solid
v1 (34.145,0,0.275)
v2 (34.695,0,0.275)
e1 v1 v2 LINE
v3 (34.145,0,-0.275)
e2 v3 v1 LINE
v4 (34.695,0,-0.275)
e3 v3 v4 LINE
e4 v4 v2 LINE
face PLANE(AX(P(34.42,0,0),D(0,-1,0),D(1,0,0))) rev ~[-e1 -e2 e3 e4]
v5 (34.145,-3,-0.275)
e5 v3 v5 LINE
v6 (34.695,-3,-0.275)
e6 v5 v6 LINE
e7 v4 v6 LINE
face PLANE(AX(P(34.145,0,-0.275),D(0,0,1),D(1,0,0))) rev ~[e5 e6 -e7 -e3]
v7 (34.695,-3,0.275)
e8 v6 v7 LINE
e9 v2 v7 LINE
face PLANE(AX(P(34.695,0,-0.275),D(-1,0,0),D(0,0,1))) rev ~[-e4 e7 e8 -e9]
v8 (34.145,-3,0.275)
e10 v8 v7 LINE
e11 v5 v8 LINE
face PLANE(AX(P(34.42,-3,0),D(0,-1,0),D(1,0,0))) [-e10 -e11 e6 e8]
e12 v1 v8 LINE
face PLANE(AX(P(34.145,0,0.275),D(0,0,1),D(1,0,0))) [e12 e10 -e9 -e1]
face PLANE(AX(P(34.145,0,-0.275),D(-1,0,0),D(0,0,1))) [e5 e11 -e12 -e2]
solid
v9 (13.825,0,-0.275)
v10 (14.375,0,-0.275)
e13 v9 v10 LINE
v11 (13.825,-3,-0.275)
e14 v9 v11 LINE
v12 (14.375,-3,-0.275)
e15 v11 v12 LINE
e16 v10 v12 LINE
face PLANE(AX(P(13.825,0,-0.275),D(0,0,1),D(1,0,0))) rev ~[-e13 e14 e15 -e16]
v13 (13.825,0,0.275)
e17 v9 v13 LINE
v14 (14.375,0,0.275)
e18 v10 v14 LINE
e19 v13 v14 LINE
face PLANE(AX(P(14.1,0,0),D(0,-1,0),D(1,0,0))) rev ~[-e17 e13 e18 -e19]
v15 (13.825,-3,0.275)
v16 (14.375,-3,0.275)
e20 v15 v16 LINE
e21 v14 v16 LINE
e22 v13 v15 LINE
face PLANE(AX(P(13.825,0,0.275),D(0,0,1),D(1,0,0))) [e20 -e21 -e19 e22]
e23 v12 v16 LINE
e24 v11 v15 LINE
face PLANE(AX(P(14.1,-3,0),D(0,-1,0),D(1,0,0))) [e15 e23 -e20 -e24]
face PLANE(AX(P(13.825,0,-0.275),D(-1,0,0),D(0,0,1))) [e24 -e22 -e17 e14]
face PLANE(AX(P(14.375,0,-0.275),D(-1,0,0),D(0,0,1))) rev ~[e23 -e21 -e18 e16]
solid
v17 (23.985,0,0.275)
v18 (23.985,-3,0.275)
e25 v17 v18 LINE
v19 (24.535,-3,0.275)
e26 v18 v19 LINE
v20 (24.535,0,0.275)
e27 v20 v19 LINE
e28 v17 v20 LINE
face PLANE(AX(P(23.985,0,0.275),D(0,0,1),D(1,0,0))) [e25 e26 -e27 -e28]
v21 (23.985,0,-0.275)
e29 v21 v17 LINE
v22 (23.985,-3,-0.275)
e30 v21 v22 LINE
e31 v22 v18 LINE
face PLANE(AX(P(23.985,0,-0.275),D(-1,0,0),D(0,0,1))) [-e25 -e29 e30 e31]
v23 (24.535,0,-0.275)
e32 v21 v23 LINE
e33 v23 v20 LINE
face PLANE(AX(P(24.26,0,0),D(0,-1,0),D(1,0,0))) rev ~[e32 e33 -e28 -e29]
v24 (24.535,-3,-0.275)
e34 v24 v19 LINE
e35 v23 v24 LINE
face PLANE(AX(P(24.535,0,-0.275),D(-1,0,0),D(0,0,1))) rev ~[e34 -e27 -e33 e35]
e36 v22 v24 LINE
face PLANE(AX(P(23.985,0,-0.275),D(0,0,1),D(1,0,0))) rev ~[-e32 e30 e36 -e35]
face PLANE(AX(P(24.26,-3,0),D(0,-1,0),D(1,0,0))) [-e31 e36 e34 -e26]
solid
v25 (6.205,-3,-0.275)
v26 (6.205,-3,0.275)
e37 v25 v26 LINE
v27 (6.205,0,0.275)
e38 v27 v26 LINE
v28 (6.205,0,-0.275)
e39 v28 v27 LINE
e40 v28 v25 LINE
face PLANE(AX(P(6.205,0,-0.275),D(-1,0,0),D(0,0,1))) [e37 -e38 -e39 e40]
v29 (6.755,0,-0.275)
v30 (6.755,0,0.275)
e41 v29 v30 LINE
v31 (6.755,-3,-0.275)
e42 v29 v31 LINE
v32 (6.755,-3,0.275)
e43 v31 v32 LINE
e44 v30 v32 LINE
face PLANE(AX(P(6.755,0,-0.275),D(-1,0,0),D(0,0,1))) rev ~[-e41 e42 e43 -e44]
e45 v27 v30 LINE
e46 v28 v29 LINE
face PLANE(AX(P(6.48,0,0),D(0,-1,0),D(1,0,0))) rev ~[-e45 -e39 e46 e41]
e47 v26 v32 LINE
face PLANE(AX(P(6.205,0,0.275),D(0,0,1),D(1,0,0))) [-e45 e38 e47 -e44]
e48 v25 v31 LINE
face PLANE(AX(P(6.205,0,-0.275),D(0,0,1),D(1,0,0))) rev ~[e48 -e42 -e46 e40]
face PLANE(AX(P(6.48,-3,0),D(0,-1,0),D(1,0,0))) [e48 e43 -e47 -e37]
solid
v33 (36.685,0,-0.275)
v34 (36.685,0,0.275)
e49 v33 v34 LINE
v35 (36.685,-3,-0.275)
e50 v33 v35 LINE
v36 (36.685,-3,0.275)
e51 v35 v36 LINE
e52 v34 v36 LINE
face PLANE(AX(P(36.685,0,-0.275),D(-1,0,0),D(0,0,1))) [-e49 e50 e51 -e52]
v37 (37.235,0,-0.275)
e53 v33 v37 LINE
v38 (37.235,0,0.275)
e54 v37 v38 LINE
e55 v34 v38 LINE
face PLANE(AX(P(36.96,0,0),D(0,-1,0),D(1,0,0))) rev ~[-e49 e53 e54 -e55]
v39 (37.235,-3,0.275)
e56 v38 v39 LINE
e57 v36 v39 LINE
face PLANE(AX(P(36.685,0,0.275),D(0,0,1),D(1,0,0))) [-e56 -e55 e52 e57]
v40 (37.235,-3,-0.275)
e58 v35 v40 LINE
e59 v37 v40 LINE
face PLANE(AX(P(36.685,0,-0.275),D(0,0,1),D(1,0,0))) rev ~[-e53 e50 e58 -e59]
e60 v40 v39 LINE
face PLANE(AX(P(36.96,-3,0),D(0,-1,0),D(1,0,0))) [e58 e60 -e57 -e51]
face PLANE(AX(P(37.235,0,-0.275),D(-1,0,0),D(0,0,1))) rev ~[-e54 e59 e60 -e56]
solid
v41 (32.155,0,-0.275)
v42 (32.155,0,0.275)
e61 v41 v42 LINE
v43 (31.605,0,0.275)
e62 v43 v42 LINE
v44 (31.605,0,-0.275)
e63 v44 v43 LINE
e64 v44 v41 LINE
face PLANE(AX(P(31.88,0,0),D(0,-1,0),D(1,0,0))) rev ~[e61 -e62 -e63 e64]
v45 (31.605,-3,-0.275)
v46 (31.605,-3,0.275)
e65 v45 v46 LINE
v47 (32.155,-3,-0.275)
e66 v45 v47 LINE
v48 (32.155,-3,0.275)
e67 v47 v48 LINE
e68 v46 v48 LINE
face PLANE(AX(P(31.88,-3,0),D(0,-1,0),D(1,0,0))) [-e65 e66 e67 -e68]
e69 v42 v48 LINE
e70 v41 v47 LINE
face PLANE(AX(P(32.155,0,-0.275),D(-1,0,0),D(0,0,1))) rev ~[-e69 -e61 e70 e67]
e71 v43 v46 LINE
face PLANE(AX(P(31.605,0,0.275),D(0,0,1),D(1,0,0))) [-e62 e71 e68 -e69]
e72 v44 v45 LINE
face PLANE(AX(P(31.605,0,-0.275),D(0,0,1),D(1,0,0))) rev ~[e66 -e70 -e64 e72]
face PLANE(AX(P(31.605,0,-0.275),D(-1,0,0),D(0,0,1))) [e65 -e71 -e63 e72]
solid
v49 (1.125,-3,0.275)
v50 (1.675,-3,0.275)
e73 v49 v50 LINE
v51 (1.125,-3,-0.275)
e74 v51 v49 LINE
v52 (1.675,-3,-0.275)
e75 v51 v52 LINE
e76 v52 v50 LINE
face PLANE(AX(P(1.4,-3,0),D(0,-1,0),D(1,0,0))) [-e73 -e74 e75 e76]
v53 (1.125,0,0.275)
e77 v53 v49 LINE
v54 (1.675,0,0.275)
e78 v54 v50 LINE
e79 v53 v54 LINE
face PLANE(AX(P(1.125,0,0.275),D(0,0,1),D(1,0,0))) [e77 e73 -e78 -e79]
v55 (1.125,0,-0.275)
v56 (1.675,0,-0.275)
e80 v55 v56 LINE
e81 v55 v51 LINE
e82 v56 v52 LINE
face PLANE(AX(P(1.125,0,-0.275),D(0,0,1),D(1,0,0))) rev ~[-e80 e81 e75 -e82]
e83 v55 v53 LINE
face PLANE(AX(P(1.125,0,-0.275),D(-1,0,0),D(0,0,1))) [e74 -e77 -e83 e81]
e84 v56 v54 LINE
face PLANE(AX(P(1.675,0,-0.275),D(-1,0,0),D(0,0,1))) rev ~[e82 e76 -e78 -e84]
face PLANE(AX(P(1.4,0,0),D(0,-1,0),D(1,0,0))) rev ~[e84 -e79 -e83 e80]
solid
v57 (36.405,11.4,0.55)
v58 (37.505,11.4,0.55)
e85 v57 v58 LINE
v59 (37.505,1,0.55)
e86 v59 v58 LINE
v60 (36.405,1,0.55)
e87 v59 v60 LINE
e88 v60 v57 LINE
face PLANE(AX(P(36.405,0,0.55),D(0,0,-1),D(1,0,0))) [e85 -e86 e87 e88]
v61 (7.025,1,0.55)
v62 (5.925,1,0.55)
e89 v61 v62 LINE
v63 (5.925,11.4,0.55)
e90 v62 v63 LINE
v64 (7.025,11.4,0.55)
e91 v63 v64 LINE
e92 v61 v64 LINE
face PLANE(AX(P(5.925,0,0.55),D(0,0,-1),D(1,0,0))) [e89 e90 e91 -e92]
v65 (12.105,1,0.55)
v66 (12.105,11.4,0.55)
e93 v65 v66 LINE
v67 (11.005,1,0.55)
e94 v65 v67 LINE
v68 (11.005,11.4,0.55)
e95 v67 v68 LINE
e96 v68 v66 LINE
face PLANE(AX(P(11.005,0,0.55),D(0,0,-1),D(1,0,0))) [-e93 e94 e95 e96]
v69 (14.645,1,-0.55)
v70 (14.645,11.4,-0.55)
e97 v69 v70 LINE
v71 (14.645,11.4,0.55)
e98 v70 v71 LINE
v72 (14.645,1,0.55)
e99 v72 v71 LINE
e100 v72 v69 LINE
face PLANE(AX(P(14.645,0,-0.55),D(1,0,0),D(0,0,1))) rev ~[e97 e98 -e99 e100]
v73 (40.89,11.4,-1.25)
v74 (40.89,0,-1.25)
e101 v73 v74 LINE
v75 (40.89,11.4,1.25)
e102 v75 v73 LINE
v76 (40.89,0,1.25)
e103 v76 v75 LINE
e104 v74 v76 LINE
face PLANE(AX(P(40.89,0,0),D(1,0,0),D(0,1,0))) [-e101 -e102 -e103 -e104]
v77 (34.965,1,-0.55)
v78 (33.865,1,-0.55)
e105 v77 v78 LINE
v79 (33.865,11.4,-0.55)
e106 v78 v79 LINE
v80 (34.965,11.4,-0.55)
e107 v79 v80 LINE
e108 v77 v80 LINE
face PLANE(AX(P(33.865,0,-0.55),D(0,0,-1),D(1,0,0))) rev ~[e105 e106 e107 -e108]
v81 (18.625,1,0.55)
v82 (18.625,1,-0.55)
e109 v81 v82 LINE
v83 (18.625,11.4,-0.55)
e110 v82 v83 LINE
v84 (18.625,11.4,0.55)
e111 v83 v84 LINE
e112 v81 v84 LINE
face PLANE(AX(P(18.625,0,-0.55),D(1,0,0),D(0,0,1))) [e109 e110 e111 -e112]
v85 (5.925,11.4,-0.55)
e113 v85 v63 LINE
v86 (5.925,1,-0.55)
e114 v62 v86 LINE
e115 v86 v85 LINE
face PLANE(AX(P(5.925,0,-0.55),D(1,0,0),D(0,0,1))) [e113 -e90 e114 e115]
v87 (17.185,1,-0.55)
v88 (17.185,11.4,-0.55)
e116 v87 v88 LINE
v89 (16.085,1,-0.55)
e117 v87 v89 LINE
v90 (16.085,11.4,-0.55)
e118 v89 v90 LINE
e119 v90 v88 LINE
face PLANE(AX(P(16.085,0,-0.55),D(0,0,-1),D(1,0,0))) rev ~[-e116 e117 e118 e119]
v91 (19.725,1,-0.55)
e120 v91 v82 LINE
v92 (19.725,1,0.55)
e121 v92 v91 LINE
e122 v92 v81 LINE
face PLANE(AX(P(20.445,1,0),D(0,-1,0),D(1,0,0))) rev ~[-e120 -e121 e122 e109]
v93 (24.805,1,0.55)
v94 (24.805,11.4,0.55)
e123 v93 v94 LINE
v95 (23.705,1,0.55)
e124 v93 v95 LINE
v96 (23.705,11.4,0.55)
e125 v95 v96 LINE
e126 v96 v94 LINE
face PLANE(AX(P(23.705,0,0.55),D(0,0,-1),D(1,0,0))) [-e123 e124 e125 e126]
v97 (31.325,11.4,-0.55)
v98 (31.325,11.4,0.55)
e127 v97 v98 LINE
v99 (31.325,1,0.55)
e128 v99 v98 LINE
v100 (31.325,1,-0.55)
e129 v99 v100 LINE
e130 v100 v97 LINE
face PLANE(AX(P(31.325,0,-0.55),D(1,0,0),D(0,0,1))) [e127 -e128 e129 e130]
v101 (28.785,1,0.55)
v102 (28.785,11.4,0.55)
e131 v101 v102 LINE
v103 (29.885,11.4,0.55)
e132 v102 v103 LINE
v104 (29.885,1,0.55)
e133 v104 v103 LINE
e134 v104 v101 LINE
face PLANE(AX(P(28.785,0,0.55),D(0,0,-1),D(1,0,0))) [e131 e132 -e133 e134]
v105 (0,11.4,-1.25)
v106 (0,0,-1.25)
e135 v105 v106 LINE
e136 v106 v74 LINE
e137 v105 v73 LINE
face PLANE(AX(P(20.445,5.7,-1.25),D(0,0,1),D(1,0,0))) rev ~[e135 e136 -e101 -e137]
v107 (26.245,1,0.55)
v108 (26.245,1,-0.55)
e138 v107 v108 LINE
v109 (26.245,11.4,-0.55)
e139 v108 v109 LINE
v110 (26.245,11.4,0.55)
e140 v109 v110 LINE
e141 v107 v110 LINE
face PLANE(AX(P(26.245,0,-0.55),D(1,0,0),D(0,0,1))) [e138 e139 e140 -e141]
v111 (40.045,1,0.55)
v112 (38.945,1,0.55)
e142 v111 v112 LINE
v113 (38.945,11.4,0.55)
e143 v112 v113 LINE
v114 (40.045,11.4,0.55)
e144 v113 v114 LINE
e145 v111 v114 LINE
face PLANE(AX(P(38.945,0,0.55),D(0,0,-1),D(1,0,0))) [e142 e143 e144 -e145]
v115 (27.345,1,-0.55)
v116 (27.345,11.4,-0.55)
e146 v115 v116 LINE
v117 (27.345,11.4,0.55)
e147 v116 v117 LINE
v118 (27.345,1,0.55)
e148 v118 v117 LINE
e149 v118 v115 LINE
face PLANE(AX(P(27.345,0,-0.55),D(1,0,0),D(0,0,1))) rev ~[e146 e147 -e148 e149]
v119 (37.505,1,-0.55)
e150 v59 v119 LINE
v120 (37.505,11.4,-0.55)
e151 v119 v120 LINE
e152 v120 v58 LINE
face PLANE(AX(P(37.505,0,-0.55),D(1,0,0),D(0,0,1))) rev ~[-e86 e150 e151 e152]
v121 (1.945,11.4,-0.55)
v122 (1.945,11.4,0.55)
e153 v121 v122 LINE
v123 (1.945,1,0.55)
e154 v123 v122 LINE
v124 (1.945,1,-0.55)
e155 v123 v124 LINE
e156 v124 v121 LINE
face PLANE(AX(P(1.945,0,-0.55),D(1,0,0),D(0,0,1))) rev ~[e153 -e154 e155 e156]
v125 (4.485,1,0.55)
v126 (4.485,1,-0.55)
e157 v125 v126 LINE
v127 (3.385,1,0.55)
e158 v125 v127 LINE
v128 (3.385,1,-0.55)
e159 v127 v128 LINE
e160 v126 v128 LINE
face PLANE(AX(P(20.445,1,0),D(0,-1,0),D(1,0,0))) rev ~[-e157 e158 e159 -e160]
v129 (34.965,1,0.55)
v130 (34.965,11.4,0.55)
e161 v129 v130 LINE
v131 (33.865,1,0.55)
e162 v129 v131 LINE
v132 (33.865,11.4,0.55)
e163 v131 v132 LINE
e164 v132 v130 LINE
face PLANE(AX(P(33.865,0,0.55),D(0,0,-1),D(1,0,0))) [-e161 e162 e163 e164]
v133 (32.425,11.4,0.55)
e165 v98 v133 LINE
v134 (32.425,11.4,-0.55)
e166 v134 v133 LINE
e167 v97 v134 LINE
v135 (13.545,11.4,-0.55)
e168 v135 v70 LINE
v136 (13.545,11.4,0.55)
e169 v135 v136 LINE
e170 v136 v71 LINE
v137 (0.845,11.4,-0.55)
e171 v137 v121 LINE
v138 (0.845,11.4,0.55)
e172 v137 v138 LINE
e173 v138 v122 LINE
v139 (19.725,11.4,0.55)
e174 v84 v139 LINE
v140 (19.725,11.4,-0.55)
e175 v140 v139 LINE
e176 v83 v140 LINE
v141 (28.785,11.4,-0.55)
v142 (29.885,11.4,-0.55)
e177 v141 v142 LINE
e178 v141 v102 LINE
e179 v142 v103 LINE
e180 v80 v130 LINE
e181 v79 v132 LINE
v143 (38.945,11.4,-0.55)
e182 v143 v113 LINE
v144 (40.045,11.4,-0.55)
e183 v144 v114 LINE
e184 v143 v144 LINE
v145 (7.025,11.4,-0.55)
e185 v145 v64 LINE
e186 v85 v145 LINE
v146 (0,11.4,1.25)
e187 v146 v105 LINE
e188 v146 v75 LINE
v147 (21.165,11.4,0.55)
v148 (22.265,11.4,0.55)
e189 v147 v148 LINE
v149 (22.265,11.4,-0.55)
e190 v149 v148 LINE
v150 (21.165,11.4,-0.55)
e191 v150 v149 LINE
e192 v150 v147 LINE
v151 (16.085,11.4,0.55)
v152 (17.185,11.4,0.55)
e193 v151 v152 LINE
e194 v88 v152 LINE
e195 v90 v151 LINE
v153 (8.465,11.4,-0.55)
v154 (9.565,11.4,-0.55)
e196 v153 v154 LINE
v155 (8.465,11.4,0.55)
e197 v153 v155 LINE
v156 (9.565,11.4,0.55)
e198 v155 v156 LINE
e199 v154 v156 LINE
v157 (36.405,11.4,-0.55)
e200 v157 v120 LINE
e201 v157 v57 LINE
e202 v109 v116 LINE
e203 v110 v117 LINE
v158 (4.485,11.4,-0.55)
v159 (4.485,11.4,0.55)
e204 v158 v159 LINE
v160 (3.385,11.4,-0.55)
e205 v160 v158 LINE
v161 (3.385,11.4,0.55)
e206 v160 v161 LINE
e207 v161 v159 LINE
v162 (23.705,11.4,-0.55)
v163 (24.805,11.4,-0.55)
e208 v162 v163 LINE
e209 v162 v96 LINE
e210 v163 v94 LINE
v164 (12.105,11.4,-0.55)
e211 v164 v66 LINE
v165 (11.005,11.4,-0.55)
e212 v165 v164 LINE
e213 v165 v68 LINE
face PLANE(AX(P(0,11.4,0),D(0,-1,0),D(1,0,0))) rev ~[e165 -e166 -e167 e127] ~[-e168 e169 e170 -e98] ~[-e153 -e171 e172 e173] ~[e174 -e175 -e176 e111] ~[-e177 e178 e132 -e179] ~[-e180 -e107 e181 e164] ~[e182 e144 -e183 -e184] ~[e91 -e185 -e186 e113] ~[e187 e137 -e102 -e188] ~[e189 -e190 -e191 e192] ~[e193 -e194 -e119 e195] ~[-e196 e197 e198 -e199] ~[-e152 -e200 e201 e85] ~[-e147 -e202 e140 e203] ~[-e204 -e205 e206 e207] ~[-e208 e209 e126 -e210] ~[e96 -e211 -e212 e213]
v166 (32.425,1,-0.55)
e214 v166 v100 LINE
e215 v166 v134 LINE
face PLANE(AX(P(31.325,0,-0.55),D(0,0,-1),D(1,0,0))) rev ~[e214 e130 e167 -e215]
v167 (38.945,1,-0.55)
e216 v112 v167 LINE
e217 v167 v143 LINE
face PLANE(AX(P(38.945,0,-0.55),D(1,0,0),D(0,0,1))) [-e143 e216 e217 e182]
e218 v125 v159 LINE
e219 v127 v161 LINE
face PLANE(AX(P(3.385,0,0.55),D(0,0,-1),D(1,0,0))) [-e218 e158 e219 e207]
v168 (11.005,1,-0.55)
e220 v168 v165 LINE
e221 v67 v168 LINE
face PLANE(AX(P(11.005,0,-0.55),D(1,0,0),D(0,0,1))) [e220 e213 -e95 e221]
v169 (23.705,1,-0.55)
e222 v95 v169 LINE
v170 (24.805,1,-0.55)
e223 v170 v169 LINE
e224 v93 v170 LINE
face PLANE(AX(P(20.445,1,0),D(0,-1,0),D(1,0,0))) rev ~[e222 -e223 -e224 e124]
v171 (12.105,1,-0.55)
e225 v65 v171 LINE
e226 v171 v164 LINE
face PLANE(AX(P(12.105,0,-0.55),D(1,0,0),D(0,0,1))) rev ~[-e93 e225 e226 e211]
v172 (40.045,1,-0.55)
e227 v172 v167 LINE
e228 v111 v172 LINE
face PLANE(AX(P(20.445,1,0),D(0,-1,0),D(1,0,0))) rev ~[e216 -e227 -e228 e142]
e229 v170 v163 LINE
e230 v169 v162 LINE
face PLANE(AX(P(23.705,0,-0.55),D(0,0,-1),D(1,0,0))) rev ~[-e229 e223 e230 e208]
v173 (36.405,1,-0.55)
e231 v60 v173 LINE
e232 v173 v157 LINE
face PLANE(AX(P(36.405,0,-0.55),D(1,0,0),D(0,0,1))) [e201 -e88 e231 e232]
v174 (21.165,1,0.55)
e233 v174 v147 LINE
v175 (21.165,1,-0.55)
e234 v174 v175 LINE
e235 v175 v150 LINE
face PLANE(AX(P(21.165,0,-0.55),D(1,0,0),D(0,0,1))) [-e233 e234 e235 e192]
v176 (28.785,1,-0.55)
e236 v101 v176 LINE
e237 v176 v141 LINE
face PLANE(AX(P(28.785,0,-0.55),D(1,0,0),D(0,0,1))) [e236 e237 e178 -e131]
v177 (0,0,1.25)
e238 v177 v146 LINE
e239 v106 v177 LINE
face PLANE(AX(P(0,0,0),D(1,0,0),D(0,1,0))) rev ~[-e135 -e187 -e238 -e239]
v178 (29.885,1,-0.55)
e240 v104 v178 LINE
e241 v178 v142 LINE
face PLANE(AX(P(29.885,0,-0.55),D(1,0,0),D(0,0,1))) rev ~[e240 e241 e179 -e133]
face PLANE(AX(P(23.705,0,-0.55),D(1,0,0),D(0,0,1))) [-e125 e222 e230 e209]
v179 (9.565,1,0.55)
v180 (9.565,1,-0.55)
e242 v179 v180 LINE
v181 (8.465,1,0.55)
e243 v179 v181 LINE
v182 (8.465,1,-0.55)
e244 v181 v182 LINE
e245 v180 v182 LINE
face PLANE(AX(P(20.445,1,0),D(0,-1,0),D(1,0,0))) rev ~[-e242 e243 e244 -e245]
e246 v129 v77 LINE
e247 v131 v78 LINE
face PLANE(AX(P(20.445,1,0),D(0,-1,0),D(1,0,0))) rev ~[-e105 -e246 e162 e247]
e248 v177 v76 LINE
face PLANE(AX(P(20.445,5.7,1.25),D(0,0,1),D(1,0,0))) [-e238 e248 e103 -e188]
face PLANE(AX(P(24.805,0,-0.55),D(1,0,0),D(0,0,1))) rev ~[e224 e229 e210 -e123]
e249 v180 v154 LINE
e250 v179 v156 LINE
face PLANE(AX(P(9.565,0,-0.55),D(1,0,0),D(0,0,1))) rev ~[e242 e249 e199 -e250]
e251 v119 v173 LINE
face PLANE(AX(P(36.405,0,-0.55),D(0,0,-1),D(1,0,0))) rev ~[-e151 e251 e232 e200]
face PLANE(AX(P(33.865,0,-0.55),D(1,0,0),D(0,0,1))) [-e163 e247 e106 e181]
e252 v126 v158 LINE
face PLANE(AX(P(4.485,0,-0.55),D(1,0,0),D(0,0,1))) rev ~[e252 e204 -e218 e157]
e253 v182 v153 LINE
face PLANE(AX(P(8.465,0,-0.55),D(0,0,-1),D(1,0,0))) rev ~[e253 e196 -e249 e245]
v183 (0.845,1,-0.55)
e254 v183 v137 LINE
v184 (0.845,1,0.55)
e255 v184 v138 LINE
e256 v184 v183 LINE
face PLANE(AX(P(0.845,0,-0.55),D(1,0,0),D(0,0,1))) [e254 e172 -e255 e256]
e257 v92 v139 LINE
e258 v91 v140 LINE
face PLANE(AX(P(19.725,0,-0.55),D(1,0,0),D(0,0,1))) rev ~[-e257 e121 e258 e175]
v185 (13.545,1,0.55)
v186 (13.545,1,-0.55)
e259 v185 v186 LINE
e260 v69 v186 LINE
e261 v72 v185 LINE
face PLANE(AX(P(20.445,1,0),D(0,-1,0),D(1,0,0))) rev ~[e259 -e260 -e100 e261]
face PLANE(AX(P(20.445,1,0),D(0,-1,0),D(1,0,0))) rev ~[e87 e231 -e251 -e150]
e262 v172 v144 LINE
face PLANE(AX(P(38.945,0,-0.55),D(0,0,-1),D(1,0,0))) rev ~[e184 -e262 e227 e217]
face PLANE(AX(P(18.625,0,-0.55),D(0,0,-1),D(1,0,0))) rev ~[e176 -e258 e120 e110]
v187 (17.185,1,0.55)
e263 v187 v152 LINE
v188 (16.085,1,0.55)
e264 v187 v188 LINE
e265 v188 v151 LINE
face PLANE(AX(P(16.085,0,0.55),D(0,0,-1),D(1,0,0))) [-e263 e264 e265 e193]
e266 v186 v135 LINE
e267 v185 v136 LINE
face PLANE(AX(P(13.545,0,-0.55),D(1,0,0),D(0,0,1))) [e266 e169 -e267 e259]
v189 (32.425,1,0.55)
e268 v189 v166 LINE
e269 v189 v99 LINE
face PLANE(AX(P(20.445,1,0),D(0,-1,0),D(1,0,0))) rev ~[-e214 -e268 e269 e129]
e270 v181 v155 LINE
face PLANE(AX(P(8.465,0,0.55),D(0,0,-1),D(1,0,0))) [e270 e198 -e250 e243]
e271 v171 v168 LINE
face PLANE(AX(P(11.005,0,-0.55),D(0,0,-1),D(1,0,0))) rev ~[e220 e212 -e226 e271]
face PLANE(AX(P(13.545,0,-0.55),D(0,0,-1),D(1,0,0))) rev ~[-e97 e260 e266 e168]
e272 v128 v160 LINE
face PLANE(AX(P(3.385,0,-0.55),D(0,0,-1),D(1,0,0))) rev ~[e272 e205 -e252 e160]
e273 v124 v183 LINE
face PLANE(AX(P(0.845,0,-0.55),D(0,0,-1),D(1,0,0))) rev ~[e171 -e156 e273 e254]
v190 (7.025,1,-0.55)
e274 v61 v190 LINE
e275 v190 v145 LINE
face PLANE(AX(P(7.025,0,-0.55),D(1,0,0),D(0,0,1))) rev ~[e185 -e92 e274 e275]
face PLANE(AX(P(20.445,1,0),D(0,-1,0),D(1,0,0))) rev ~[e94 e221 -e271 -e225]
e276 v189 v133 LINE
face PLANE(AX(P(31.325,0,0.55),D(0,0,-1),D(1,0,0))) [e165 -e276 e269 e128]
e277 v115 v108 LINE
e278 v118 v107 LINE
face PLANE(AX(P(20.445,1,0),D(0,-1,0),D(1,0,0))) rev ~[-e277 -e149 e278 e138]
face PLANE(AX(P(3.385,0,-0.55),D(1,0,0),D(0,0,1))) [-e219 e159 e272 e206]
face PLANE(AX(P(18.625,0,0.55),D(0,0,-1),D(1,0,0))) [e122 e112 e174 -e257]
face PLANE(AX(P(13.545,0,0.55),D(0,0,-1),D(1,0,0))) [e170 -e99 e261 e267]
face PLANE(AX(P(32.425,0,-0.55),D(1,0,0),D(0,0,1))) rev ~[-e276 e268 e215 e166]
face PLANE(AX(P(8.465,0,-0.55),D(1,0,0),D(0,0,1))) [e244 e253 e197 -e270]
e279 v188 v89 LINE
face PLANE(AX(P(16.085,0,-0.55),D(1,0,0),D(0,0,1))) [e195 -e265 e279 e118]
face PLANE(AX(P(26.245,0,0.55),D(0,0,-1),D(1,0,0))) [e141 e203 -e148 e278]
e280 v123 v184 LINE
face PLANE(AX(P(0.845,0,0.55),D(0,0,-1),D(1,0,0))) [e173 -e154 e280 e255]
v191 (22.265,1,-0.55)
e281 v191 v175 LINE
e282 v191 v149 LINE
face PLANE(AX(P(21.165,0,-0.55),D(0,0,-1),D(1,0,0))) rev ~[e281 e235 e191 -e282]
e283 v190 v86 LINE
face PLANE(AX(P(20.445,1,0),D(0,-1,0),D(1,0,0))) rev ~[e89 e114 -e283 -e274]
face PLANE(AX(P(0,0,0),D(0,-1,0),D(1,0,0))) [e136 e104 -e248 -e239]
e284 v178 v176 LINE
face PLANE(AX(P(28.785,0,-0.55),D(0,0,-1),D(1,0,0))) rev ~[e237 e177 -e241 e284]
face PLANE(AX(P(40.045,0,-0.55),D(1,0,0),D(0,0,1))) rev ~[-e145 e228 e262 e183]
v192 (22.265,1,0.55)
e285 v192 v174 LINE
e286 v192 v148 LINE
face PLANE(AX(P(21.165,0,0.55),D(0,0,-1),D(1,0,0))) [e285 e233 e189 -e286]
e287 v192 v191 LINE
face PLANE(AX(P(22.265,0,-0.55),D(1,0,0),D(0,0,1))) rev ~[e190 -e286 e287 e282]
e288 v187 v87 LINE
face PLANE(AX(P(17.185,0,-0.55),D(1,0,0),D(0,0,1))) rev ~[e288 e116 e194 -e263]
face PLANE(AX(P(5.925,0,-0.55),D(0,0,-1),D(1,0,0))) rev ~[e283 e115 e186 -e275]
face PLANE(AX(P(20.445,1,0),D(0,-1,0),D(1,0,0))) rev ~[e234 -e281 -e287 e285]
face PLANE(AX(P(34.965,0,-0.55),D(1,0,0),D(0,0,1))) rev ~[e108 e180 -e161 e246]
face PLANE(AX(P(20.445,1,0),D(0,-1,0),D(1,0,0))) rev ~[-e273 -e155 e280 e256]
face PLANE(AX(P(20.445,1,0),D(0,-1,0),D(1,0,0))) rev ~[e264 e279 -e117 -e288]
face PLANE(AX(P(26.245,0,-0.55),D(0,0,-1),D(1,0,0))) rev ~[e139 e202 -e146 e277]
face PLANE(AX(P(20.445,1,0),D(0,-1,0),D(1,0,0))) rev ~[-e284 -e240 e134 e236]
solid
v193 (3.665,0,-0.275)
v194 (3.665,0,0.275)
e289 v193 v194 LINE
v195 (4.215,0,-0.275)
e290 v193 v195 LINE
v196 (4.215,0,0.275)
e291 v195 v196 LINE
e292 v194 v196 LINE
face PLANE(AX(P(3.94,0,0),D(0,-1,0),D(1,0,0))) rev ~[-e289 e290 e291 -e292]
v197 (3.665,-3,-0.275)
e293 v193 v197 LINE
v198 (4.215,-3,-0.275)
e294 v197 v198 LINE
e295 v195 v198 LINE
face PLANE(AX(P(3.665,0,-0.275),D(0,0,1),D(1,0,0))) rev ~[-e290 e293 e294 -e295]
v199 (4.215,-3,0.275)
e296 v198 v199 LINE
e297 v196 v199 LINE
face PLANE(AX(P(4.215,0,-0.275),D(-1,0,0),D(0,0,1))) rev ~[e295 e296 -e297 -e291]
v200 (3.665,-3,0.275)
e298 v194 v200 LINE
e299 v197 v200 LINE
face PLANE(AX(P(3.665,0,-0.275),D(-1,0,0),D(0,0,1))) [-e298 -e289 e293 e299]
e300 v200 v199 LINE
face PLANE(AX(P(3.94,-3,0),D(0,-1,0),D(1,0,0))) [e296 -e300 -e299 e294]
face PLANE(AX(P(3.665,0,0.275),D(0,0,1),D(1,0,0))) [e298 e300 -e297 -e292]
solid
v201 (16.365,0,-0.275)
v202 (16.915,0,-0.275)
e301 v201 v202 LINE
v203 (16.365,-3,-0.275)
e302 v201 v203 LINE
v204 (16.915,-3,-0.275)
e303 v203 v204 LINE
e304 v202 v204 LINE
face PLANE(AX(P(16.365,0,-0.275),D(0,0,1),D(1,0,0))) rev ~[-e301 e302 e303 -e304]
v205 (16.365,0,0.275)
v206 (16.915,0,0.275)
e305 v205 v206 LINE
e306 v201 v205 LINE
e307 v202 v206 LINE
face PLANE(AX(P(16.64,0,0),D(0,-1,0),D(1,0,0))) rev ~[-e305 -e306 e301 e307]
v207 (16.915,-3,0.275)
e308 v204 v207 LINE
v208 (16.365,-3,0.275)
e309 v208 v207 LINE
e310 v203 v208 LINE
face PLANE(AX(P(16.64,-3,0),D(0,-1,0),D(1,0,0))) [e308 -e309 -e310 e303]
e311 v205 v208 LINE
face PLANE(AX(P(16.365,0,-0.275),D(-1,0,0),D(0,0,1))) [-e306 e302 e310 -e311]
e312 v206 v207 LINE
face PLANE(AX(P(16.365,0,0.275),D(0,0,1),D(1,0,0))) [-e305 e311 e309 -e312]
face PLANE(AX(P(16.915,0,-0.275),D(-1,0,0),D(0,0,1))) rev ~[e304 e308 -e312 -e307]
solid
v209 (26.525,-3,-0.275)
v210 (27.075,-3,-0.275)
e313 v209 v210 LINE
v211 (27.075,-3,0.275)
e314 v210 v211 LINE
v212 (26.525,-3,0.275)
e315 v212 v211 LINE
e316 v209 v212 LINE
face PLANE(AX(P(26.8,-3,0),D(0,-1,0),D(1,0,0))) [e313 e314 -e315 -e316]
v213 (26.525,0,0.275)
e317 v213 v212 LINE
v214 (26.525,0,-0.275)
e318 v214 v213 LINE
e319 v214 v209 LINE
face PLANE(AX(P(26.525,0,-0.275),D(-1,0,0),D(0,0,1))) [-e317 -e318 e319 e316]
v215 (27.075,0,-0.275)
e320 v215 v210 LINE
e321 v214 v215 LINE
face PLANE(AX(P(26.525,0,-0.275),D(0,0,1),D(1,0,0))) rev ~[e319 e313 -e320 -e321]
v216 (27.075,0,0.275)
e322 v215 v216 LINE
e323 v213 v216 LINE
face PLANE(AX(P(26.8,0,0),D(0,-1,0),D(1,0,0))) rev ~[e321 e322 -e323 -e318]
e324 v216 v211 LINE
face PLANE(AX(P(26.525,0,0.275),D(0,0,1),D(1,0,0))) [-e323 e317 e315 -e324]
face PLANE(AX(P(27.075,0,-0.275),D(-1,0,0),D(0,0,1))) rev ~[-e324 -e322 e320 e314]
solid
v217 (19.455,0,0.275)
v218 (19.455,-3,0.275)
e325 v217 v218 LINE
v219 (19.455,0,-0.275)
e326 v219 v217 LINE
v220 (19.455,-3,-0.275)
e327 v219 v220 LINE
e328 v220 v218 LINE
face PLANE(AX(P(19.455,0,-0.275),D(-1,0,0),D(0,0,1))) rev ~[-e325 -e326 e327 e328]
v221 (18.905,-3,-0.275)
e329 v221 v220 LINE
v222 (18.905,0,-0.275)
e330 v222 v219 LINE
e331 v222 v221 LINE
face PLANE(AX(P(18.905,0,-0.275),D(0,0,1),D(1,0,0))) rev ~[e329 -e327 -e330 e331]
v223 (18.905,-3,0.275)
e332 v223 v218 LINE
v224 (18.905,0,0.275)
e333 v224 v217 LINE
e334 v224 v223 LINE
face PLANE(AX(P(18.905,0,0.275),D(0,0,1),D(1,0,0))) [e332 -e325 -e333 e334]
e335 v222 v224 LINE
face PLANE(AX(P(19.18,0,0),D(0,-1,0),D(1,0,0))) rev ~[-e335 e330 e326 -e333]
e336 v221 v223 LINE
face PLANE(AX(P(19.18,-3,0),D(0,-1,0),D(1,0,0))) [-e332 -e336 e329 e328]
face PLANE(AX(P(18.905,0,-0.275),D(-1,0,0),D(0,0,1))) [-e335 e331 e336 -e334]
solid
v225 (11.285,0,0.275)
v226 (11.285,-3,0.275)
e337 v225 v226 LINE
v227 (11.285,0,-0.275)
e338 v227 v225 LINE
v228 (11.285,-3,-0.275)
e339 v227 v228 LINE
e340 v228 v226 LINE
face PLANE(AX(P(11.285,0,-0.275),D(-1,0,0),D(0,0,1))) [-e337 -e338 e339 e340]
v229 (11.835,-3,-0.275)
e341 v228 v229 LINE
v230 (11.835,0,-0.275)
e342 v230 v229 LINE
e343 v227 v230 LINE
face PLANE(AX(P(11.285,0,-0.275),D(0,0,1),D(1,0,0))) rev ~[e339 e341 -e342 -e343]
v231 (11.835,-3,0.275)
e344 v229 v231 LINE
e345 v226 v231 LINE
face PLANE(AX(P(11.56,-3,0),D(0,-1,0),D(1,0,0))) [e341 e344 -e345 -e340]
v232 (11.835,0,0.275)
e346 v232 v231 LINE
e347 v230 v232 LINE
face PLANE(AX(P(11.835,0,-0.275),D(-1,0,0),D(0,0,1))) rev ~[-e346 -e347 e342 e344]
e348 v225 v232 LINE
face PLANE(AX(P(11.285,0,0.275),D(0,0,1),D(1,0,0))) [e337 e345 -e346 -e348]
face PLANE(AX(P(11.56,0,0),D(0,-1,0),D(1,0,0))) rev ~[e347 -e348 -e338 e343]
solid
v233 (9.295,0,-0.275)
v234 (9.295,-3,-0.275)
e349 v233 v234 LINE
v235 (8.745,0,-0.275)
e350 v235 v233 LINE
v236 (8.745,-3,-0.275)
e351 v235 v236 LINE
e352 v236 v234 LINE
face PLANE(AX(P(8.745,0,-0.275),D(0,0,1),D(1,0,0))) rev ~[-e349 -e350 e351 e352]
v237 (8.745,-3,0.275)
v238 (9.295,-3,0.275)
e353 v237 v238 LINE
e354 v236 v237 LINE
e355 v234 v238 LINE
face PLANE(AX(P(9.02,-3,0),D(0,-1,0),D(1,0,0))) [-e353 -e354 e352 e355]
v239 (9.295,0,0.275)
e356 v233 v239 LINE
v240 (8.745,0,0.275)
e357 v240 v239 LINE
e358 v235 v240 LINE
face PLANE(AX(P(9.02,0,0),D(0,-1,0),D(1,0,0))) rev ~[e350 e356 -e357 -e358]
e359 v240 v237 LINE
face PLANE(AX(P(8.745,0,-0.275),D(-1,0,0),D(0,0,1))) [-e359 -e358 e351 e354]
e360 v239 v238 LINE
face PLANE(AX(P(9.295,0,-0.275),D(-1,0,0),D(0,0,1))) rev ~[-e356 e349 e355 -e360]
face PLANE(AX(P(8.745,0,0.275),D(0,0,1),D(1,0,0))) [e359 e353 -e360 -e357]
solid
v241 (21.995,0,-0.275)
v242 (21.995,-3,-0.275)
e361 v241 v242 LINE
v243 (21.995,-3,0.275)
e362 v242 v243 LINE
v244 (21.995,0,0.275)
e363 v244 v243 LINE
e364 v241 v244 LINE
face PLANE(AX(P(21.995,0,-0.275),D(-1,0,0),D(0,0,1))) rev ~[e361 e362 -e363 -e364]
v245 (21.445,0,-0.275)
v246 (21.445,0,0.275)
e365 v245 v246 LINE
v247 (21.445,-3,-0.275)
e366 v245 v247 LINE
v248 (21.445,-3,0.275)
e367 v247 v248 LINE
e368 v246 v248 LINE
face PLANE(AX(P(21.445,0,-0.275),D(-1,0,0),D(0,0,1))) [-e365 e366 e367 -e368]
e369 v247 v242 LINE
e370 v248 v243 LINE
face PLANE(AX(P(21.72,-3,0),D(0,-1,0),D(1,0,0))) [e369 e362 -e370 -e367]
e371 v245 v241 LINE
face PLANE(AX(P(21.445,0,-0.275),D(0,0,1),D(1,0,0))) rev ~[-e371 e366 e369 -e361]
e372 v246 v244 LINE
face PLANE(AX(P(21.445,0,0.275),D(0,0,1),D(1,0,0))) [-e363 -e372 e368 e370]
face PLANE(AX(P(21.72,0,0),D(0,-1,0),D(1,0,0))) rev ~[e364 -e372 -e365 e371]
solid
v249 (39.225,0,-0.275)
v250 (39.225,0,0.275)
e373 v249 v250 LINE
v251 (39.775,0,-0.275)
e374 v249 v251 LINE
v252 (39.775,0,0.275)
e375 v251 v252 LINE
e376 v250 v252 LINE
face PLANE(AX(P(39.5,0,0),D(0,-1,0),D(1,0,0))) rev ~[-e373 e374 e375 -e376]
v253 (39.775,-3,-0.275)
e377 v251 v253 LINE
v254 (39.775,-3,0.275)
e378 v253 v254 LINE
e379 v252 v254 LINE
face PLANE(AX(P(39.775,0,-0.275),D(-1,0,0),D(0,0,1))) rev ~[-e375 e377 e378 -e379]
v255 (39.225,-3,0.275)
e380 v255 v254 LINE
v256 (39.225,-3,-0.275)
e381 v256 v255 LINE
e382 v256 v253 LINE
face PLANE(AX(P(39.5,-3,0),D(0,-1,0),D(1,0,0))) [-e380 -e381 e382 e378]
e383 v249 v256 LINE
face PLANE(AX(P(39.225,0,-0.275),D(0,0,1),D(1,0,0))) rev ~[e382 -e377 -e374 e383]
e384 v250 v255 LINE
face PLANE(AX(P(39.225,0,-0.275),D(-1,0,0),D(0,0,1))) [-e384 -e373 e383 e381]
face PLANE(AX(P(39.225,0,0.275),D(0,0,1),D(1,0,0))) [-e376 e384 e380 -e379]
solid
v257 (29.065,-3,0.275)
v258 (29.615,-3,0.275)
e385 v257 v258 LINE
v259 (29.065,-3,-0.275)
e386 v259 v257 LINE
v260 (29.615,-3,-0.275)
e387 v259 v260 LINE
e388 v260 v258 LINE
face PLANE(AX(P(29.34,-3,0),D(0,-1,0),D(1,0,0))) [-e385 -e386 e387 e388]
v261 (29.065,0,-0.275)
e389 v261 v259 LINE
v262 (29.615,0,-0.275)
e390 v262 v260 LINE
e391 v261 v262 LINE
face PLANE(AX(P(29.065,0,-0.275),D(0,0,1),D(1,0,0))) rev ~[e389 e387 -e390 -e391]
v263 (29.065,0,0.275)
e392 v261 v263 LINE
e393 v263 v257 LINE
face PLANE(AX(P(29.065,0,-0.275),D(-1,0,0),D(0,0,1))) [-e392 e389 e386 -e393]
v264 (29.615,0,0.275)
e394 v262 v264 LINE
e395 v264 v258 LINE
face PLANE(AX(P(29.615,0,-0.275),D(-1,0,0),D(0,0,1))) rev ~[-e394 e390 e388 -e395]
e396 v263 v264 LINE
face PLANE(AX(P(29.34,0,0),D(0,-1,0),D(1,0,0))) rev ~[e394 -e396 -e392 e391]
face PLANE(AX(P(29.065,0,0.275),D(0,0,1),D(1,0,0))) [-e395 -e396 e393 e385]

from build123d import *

# Parameters (mm, degrees)
SKETCH1_W              = 40.89
SKETCH1_H              = 11.4
BOSS_EXTRUDE1_DEPTH    = 1.25
SKETCH2_W              = 1.1
SKETCH2_H              = 1.1
CUT_EXTRUDE1_DEPTH     = 12.4
SKETCH3_W              = 40.89
SKETCH3_H              = 2.5
BOSS_EXTRUDE2_DEPTH    = 1
SKETCH4_W              = 0.55
SKETCH4_H              = 0.55
BOSS_EXTRUDE3_DEPTH    = 3
BOSS_EXTRUDE3_2_DEPTH  = 3
BOSS_EXTRUDE3_3_DEPTH  = 3
BOSS_EXTRUDE3_4_DEPTH  = 3
BOSS_EXTRUDE3_5_DEPTH  = 3
BOSS_EXTRUDE3_6_DEPTH  = 3
BOSS_EXTRUDE3_7_DEPTH  = 3
BOSS_EXTRUDE3_8_DEPTH  = 3
BOSS_EXTRUDE3_9_DEPTH  = 3
BOSS_EXTRUDE3_10_DEPTH = 3
BOSS_EXTRUDE3_11_DEPTH = 3
BOSS_EXTRUDE3_12_DEPTH = 3
BOSS_EXTRUDE3_13_DEPTH = 3
BOSS_EXTRUDE3_14_DEPTH = 3
BOSS_EXTRUDE3_15_DEPTH = 3
BOSS_EXTRUDE3_16_DEPTH = 3


with BuildPart() as part:
    # Sketch1 → Boss-Extrude1 (new body, symmetric)
    with BuildSketch(Plane.XY):
        with Locations((20.445, 5.7)):
            Rectangle(SKETCH1_W, SKETCH1_H)
    extrude(amount=BOSS_EXTRUDE1_DEPTH, both=True)

    # Sketch2 → Cut-Extrude1 (cut, through all)
    with BuildSketch(Plane.XZ):
        with Locations((1.395, 0)):
            Rectangle(SKETCH2_W, SKETCH2_H)
        with Locations((3.935, 0)):
            Rectangle(SKETCH2_W, SKETCH2_H)
        with Locations((6.475, 0)):
            Rectangle(SKETCH2_W, SKETCH2_H)
        with Locations((9.015, 0)):
            Rectangle(SKETCH2_W, SKETCH2_H)
        with Locations((11.555, 0)):
            Rectangle(SKETCH2_W, SKETCH2_H)
        with Locations((14.095, 0)):
            Rectangle(SKETCH2_W, SKETCH2_H)
        with Locations((16.635, 0)):
            Rectangle(SKETCH2_W, SKETCH2_H)
        with Locations((39.495, 0)):
            Rectangle(SKETCH2_W, SKETCH2_H)
        with Locations((36.955, 0)):
            Rectangle(SKETCH2_W, SKETCH2_H)
        with Locations((34.415, 0)):
            Rectangle(SKETCH2_W, SKETCH2_H)
        with Locations((31.875, 0)):
            Rectangle(SKETCH2_W, SKETCH2_H)
        with Locations((29.335, 0)):
            Rectangle(SKETCH2_W, SKETCH2_H)
        with Locations((26.795, 0)):
            Rectangle(SKETCH2_W, SKETCH2_H)
        with Locations((24.255, 0)):
            Rectangle(SKETCH2_W, SKETCH2_H)
        with Locations((21.715, 0)):
            Rectangle(SKETCH2_W, SKETCH2_H)
        with Locations((19.175, 0)):
            Rectangle(SKETCH2_W, SKETCH2_H)
    extrude(amount=-CUT_EXTRUDE1_DEPTH, mode=Mode.SUBTRACT)

    # Sketch3 → Boss-Extrude2 (add)
    with BuildSketch(Plane.XZ):
        with Locations((20.445, 0)):
            Rectangle(SKETCH3_W, SKETCH3_H)
    extrude(amount=-BOSS_EXTRUDE2_DEPTH)


with BuildPart() as body_2:
    # Sketch4 → Boss-Extrude3 (new body)
    with BuildSketch(Plane.XZ):
        with Locations((1.4, 0)):
            Rectangle(SKETCH4_W, SKETCH4_H)
    extrude(amount=BOSS_EXTRUDE3_DEPTH)


with BuildPart() as body_3:
    # Sketch4 → Boss-Extrude3 2 (new body)
    with BuildSketch(Plane.XZ):
        with Locations((3.94, 0)):
            Rectangle(SKETCH4_W, SKETCH4_H)
    extrude(amount=BOSS_EXTRUDE3_2_DEPTH)


with BuildPart() as body_4:
    # Sketch4 → Boss-Extrude3 3 (new body)
    with BuildSketch(Plane.XZ):
        with Locations((6.48, 0)):
            Rectangle(SKETCH4_W, SKETCH4_H)
    extrude(amount=BOSS_EXTRUDE3_3_DEPTH)


with BuildPart() as body_5:
    # Sketch4 → Boss-Extrude3 4 (new body)
    with BuildSketch(Plane.XZ):
        with Locations((9.02, 0)):
            Rectangle(SKETCH4_W, SKETCH4_H)
    extrude(amount=BOSS_EXTRUDE3_4_DEPTH)


with BuildPart() as body_6:
    # Sketch4 → Boss-Extrude3 5 (new body)
    with BuildSketch(Plane.XZ):
        with Locations((11.56, 0)):
            Rectangle(SKETCH4_W, SKETCH4_H)
    extrude(amount=BOSS_EXTRUDE3_5_DEPTH)


with BuildPart() as body_7:
    # Sketch4 → Boss-Extrude3 6 (new body)
    with BuildSketch(Plane.XZ):
        with Locations((14.1, 0)):
            Rectangle(SKETCH4_W, SKETCH4_H)
    extrude(amount=BOSS_EXTRUDE3_6_DEPTH)


with BuildPart() as body_8:
    # Sketch4 → Boss-Extrude3 7 (new body)
    with BuildSketch(Plane.XZ):
        with Locations((16.64, 0)):
            Rectangle(SKETCH4_W, SKETCH4_H)
    extrude(amount=BOSS_EXTRUDE3_7_DEPTH)


with BuildPart() as body_9:
    # Sketch4 → Boss-Extrude3 8 (new body)
    with BuildSketch(Plane.XZ):
        with Locations((19.18, 0)):
            Rectangle(SKETCH4_W, SKETCH4_H)
    extrude(amount=BOSS_EXTRUDE3_8_DEPTH)


with BuildPart() as body_10:
    # Sketch4 → Boss-Extrude3 9 (new body)
    with BuildSketch(Plane.XZ):
        with Locations((21.72, 0)):
            Rectangle(SKETCH4_W, SKETCH4_H)
    extrude(amount=BOSS_EXTRUDE3_9_DEPTH)


with BuildPart() as body_11:
    # Sketch4 → Boss-Extrude3 10 (new body)
    with BuildSketch(Plane.XZ):
        with Locations((24.26, 0)):
            Rectangle(SKETCH4_W, SKETCH4_H)
    extrude(amount=BOSS_EXTRUDE3_10_DEPTH)


with BuildPart() as body_12:
    # Sketch4 → Boss-Extrude3 11 (new body)
    with BuildSketch(Plane.XZ):
        with Locations((26.8, 0)):
            Rectangle(SKETCH4_W, SKETCH4_H)
    extrude(amount=BOSS_EXTRUDE3_11_DEPTH)


with BuildPart() as body_13:
    # Sketch4 → Boss-Extrude3 12 (new body)
    with BuildSketch(Plane.XZ):
        with Locations((29.34, 0)):
            Rectangle(SKETCH4_W, SKETCH4_H)
    extrude(amount=BOSS_EXTRUDE3_12_DEPTH)


with BuildPart() as body_14:
    # Sketch4 → Boss-Extrude3 13 (new body)
    with BuildSketch(Plane.XZ):
        with Locations((31.88, 0)):
            Rectangle(SKETCH4_W, SKETCH4_H)
    extrude(amount=BOSS_EXTRUDE3_13_DEPTH)


with BuildPart() as body_15:
    # Sketch4 → Boss-Extrude3 14 (new body)
    with BuildSketch(Plane.XZ):
        with Locations((34.42, 0)):
            Rectangle(SKETCH4_W, SKETCH4_H)
    extrude(amount=BOSS_EXTRUDE3_14_DEPTH)


with BuildPart() as body_16:
    # Sketch4 → Boss-Extrude3 15 (new body)
    with BuildSketch(Plane.XZ):
        with Locations((36.96, 0)):
            Rectangle(SKETCH4_W, SKETCH4_H)
    extrude(amount=BOSS_EXTRUDE3_15_DEPTH)


with BuildPart() as body_17:
    # Sketch4 → Boss-Extrude3 16 (new body)
    with BuildSketch(Plane.XZ):
        with Locations((39.5, 0)):
            Rectangle(SKETCH4_W, SKETCH4_H)
    extrude(amount=BOSS_EXTRUDE3_16_DEPTH)


solid = Compound([part.part, body_2.part, body_3.part, body_4.part, body_5.part, body_6.part, body_7.part, body_8.part, body_9.part, body_10.part, body_11.part, body_12.part, body_13.part, body_14.part, body_15.part, body_16.part, body_17.part])
